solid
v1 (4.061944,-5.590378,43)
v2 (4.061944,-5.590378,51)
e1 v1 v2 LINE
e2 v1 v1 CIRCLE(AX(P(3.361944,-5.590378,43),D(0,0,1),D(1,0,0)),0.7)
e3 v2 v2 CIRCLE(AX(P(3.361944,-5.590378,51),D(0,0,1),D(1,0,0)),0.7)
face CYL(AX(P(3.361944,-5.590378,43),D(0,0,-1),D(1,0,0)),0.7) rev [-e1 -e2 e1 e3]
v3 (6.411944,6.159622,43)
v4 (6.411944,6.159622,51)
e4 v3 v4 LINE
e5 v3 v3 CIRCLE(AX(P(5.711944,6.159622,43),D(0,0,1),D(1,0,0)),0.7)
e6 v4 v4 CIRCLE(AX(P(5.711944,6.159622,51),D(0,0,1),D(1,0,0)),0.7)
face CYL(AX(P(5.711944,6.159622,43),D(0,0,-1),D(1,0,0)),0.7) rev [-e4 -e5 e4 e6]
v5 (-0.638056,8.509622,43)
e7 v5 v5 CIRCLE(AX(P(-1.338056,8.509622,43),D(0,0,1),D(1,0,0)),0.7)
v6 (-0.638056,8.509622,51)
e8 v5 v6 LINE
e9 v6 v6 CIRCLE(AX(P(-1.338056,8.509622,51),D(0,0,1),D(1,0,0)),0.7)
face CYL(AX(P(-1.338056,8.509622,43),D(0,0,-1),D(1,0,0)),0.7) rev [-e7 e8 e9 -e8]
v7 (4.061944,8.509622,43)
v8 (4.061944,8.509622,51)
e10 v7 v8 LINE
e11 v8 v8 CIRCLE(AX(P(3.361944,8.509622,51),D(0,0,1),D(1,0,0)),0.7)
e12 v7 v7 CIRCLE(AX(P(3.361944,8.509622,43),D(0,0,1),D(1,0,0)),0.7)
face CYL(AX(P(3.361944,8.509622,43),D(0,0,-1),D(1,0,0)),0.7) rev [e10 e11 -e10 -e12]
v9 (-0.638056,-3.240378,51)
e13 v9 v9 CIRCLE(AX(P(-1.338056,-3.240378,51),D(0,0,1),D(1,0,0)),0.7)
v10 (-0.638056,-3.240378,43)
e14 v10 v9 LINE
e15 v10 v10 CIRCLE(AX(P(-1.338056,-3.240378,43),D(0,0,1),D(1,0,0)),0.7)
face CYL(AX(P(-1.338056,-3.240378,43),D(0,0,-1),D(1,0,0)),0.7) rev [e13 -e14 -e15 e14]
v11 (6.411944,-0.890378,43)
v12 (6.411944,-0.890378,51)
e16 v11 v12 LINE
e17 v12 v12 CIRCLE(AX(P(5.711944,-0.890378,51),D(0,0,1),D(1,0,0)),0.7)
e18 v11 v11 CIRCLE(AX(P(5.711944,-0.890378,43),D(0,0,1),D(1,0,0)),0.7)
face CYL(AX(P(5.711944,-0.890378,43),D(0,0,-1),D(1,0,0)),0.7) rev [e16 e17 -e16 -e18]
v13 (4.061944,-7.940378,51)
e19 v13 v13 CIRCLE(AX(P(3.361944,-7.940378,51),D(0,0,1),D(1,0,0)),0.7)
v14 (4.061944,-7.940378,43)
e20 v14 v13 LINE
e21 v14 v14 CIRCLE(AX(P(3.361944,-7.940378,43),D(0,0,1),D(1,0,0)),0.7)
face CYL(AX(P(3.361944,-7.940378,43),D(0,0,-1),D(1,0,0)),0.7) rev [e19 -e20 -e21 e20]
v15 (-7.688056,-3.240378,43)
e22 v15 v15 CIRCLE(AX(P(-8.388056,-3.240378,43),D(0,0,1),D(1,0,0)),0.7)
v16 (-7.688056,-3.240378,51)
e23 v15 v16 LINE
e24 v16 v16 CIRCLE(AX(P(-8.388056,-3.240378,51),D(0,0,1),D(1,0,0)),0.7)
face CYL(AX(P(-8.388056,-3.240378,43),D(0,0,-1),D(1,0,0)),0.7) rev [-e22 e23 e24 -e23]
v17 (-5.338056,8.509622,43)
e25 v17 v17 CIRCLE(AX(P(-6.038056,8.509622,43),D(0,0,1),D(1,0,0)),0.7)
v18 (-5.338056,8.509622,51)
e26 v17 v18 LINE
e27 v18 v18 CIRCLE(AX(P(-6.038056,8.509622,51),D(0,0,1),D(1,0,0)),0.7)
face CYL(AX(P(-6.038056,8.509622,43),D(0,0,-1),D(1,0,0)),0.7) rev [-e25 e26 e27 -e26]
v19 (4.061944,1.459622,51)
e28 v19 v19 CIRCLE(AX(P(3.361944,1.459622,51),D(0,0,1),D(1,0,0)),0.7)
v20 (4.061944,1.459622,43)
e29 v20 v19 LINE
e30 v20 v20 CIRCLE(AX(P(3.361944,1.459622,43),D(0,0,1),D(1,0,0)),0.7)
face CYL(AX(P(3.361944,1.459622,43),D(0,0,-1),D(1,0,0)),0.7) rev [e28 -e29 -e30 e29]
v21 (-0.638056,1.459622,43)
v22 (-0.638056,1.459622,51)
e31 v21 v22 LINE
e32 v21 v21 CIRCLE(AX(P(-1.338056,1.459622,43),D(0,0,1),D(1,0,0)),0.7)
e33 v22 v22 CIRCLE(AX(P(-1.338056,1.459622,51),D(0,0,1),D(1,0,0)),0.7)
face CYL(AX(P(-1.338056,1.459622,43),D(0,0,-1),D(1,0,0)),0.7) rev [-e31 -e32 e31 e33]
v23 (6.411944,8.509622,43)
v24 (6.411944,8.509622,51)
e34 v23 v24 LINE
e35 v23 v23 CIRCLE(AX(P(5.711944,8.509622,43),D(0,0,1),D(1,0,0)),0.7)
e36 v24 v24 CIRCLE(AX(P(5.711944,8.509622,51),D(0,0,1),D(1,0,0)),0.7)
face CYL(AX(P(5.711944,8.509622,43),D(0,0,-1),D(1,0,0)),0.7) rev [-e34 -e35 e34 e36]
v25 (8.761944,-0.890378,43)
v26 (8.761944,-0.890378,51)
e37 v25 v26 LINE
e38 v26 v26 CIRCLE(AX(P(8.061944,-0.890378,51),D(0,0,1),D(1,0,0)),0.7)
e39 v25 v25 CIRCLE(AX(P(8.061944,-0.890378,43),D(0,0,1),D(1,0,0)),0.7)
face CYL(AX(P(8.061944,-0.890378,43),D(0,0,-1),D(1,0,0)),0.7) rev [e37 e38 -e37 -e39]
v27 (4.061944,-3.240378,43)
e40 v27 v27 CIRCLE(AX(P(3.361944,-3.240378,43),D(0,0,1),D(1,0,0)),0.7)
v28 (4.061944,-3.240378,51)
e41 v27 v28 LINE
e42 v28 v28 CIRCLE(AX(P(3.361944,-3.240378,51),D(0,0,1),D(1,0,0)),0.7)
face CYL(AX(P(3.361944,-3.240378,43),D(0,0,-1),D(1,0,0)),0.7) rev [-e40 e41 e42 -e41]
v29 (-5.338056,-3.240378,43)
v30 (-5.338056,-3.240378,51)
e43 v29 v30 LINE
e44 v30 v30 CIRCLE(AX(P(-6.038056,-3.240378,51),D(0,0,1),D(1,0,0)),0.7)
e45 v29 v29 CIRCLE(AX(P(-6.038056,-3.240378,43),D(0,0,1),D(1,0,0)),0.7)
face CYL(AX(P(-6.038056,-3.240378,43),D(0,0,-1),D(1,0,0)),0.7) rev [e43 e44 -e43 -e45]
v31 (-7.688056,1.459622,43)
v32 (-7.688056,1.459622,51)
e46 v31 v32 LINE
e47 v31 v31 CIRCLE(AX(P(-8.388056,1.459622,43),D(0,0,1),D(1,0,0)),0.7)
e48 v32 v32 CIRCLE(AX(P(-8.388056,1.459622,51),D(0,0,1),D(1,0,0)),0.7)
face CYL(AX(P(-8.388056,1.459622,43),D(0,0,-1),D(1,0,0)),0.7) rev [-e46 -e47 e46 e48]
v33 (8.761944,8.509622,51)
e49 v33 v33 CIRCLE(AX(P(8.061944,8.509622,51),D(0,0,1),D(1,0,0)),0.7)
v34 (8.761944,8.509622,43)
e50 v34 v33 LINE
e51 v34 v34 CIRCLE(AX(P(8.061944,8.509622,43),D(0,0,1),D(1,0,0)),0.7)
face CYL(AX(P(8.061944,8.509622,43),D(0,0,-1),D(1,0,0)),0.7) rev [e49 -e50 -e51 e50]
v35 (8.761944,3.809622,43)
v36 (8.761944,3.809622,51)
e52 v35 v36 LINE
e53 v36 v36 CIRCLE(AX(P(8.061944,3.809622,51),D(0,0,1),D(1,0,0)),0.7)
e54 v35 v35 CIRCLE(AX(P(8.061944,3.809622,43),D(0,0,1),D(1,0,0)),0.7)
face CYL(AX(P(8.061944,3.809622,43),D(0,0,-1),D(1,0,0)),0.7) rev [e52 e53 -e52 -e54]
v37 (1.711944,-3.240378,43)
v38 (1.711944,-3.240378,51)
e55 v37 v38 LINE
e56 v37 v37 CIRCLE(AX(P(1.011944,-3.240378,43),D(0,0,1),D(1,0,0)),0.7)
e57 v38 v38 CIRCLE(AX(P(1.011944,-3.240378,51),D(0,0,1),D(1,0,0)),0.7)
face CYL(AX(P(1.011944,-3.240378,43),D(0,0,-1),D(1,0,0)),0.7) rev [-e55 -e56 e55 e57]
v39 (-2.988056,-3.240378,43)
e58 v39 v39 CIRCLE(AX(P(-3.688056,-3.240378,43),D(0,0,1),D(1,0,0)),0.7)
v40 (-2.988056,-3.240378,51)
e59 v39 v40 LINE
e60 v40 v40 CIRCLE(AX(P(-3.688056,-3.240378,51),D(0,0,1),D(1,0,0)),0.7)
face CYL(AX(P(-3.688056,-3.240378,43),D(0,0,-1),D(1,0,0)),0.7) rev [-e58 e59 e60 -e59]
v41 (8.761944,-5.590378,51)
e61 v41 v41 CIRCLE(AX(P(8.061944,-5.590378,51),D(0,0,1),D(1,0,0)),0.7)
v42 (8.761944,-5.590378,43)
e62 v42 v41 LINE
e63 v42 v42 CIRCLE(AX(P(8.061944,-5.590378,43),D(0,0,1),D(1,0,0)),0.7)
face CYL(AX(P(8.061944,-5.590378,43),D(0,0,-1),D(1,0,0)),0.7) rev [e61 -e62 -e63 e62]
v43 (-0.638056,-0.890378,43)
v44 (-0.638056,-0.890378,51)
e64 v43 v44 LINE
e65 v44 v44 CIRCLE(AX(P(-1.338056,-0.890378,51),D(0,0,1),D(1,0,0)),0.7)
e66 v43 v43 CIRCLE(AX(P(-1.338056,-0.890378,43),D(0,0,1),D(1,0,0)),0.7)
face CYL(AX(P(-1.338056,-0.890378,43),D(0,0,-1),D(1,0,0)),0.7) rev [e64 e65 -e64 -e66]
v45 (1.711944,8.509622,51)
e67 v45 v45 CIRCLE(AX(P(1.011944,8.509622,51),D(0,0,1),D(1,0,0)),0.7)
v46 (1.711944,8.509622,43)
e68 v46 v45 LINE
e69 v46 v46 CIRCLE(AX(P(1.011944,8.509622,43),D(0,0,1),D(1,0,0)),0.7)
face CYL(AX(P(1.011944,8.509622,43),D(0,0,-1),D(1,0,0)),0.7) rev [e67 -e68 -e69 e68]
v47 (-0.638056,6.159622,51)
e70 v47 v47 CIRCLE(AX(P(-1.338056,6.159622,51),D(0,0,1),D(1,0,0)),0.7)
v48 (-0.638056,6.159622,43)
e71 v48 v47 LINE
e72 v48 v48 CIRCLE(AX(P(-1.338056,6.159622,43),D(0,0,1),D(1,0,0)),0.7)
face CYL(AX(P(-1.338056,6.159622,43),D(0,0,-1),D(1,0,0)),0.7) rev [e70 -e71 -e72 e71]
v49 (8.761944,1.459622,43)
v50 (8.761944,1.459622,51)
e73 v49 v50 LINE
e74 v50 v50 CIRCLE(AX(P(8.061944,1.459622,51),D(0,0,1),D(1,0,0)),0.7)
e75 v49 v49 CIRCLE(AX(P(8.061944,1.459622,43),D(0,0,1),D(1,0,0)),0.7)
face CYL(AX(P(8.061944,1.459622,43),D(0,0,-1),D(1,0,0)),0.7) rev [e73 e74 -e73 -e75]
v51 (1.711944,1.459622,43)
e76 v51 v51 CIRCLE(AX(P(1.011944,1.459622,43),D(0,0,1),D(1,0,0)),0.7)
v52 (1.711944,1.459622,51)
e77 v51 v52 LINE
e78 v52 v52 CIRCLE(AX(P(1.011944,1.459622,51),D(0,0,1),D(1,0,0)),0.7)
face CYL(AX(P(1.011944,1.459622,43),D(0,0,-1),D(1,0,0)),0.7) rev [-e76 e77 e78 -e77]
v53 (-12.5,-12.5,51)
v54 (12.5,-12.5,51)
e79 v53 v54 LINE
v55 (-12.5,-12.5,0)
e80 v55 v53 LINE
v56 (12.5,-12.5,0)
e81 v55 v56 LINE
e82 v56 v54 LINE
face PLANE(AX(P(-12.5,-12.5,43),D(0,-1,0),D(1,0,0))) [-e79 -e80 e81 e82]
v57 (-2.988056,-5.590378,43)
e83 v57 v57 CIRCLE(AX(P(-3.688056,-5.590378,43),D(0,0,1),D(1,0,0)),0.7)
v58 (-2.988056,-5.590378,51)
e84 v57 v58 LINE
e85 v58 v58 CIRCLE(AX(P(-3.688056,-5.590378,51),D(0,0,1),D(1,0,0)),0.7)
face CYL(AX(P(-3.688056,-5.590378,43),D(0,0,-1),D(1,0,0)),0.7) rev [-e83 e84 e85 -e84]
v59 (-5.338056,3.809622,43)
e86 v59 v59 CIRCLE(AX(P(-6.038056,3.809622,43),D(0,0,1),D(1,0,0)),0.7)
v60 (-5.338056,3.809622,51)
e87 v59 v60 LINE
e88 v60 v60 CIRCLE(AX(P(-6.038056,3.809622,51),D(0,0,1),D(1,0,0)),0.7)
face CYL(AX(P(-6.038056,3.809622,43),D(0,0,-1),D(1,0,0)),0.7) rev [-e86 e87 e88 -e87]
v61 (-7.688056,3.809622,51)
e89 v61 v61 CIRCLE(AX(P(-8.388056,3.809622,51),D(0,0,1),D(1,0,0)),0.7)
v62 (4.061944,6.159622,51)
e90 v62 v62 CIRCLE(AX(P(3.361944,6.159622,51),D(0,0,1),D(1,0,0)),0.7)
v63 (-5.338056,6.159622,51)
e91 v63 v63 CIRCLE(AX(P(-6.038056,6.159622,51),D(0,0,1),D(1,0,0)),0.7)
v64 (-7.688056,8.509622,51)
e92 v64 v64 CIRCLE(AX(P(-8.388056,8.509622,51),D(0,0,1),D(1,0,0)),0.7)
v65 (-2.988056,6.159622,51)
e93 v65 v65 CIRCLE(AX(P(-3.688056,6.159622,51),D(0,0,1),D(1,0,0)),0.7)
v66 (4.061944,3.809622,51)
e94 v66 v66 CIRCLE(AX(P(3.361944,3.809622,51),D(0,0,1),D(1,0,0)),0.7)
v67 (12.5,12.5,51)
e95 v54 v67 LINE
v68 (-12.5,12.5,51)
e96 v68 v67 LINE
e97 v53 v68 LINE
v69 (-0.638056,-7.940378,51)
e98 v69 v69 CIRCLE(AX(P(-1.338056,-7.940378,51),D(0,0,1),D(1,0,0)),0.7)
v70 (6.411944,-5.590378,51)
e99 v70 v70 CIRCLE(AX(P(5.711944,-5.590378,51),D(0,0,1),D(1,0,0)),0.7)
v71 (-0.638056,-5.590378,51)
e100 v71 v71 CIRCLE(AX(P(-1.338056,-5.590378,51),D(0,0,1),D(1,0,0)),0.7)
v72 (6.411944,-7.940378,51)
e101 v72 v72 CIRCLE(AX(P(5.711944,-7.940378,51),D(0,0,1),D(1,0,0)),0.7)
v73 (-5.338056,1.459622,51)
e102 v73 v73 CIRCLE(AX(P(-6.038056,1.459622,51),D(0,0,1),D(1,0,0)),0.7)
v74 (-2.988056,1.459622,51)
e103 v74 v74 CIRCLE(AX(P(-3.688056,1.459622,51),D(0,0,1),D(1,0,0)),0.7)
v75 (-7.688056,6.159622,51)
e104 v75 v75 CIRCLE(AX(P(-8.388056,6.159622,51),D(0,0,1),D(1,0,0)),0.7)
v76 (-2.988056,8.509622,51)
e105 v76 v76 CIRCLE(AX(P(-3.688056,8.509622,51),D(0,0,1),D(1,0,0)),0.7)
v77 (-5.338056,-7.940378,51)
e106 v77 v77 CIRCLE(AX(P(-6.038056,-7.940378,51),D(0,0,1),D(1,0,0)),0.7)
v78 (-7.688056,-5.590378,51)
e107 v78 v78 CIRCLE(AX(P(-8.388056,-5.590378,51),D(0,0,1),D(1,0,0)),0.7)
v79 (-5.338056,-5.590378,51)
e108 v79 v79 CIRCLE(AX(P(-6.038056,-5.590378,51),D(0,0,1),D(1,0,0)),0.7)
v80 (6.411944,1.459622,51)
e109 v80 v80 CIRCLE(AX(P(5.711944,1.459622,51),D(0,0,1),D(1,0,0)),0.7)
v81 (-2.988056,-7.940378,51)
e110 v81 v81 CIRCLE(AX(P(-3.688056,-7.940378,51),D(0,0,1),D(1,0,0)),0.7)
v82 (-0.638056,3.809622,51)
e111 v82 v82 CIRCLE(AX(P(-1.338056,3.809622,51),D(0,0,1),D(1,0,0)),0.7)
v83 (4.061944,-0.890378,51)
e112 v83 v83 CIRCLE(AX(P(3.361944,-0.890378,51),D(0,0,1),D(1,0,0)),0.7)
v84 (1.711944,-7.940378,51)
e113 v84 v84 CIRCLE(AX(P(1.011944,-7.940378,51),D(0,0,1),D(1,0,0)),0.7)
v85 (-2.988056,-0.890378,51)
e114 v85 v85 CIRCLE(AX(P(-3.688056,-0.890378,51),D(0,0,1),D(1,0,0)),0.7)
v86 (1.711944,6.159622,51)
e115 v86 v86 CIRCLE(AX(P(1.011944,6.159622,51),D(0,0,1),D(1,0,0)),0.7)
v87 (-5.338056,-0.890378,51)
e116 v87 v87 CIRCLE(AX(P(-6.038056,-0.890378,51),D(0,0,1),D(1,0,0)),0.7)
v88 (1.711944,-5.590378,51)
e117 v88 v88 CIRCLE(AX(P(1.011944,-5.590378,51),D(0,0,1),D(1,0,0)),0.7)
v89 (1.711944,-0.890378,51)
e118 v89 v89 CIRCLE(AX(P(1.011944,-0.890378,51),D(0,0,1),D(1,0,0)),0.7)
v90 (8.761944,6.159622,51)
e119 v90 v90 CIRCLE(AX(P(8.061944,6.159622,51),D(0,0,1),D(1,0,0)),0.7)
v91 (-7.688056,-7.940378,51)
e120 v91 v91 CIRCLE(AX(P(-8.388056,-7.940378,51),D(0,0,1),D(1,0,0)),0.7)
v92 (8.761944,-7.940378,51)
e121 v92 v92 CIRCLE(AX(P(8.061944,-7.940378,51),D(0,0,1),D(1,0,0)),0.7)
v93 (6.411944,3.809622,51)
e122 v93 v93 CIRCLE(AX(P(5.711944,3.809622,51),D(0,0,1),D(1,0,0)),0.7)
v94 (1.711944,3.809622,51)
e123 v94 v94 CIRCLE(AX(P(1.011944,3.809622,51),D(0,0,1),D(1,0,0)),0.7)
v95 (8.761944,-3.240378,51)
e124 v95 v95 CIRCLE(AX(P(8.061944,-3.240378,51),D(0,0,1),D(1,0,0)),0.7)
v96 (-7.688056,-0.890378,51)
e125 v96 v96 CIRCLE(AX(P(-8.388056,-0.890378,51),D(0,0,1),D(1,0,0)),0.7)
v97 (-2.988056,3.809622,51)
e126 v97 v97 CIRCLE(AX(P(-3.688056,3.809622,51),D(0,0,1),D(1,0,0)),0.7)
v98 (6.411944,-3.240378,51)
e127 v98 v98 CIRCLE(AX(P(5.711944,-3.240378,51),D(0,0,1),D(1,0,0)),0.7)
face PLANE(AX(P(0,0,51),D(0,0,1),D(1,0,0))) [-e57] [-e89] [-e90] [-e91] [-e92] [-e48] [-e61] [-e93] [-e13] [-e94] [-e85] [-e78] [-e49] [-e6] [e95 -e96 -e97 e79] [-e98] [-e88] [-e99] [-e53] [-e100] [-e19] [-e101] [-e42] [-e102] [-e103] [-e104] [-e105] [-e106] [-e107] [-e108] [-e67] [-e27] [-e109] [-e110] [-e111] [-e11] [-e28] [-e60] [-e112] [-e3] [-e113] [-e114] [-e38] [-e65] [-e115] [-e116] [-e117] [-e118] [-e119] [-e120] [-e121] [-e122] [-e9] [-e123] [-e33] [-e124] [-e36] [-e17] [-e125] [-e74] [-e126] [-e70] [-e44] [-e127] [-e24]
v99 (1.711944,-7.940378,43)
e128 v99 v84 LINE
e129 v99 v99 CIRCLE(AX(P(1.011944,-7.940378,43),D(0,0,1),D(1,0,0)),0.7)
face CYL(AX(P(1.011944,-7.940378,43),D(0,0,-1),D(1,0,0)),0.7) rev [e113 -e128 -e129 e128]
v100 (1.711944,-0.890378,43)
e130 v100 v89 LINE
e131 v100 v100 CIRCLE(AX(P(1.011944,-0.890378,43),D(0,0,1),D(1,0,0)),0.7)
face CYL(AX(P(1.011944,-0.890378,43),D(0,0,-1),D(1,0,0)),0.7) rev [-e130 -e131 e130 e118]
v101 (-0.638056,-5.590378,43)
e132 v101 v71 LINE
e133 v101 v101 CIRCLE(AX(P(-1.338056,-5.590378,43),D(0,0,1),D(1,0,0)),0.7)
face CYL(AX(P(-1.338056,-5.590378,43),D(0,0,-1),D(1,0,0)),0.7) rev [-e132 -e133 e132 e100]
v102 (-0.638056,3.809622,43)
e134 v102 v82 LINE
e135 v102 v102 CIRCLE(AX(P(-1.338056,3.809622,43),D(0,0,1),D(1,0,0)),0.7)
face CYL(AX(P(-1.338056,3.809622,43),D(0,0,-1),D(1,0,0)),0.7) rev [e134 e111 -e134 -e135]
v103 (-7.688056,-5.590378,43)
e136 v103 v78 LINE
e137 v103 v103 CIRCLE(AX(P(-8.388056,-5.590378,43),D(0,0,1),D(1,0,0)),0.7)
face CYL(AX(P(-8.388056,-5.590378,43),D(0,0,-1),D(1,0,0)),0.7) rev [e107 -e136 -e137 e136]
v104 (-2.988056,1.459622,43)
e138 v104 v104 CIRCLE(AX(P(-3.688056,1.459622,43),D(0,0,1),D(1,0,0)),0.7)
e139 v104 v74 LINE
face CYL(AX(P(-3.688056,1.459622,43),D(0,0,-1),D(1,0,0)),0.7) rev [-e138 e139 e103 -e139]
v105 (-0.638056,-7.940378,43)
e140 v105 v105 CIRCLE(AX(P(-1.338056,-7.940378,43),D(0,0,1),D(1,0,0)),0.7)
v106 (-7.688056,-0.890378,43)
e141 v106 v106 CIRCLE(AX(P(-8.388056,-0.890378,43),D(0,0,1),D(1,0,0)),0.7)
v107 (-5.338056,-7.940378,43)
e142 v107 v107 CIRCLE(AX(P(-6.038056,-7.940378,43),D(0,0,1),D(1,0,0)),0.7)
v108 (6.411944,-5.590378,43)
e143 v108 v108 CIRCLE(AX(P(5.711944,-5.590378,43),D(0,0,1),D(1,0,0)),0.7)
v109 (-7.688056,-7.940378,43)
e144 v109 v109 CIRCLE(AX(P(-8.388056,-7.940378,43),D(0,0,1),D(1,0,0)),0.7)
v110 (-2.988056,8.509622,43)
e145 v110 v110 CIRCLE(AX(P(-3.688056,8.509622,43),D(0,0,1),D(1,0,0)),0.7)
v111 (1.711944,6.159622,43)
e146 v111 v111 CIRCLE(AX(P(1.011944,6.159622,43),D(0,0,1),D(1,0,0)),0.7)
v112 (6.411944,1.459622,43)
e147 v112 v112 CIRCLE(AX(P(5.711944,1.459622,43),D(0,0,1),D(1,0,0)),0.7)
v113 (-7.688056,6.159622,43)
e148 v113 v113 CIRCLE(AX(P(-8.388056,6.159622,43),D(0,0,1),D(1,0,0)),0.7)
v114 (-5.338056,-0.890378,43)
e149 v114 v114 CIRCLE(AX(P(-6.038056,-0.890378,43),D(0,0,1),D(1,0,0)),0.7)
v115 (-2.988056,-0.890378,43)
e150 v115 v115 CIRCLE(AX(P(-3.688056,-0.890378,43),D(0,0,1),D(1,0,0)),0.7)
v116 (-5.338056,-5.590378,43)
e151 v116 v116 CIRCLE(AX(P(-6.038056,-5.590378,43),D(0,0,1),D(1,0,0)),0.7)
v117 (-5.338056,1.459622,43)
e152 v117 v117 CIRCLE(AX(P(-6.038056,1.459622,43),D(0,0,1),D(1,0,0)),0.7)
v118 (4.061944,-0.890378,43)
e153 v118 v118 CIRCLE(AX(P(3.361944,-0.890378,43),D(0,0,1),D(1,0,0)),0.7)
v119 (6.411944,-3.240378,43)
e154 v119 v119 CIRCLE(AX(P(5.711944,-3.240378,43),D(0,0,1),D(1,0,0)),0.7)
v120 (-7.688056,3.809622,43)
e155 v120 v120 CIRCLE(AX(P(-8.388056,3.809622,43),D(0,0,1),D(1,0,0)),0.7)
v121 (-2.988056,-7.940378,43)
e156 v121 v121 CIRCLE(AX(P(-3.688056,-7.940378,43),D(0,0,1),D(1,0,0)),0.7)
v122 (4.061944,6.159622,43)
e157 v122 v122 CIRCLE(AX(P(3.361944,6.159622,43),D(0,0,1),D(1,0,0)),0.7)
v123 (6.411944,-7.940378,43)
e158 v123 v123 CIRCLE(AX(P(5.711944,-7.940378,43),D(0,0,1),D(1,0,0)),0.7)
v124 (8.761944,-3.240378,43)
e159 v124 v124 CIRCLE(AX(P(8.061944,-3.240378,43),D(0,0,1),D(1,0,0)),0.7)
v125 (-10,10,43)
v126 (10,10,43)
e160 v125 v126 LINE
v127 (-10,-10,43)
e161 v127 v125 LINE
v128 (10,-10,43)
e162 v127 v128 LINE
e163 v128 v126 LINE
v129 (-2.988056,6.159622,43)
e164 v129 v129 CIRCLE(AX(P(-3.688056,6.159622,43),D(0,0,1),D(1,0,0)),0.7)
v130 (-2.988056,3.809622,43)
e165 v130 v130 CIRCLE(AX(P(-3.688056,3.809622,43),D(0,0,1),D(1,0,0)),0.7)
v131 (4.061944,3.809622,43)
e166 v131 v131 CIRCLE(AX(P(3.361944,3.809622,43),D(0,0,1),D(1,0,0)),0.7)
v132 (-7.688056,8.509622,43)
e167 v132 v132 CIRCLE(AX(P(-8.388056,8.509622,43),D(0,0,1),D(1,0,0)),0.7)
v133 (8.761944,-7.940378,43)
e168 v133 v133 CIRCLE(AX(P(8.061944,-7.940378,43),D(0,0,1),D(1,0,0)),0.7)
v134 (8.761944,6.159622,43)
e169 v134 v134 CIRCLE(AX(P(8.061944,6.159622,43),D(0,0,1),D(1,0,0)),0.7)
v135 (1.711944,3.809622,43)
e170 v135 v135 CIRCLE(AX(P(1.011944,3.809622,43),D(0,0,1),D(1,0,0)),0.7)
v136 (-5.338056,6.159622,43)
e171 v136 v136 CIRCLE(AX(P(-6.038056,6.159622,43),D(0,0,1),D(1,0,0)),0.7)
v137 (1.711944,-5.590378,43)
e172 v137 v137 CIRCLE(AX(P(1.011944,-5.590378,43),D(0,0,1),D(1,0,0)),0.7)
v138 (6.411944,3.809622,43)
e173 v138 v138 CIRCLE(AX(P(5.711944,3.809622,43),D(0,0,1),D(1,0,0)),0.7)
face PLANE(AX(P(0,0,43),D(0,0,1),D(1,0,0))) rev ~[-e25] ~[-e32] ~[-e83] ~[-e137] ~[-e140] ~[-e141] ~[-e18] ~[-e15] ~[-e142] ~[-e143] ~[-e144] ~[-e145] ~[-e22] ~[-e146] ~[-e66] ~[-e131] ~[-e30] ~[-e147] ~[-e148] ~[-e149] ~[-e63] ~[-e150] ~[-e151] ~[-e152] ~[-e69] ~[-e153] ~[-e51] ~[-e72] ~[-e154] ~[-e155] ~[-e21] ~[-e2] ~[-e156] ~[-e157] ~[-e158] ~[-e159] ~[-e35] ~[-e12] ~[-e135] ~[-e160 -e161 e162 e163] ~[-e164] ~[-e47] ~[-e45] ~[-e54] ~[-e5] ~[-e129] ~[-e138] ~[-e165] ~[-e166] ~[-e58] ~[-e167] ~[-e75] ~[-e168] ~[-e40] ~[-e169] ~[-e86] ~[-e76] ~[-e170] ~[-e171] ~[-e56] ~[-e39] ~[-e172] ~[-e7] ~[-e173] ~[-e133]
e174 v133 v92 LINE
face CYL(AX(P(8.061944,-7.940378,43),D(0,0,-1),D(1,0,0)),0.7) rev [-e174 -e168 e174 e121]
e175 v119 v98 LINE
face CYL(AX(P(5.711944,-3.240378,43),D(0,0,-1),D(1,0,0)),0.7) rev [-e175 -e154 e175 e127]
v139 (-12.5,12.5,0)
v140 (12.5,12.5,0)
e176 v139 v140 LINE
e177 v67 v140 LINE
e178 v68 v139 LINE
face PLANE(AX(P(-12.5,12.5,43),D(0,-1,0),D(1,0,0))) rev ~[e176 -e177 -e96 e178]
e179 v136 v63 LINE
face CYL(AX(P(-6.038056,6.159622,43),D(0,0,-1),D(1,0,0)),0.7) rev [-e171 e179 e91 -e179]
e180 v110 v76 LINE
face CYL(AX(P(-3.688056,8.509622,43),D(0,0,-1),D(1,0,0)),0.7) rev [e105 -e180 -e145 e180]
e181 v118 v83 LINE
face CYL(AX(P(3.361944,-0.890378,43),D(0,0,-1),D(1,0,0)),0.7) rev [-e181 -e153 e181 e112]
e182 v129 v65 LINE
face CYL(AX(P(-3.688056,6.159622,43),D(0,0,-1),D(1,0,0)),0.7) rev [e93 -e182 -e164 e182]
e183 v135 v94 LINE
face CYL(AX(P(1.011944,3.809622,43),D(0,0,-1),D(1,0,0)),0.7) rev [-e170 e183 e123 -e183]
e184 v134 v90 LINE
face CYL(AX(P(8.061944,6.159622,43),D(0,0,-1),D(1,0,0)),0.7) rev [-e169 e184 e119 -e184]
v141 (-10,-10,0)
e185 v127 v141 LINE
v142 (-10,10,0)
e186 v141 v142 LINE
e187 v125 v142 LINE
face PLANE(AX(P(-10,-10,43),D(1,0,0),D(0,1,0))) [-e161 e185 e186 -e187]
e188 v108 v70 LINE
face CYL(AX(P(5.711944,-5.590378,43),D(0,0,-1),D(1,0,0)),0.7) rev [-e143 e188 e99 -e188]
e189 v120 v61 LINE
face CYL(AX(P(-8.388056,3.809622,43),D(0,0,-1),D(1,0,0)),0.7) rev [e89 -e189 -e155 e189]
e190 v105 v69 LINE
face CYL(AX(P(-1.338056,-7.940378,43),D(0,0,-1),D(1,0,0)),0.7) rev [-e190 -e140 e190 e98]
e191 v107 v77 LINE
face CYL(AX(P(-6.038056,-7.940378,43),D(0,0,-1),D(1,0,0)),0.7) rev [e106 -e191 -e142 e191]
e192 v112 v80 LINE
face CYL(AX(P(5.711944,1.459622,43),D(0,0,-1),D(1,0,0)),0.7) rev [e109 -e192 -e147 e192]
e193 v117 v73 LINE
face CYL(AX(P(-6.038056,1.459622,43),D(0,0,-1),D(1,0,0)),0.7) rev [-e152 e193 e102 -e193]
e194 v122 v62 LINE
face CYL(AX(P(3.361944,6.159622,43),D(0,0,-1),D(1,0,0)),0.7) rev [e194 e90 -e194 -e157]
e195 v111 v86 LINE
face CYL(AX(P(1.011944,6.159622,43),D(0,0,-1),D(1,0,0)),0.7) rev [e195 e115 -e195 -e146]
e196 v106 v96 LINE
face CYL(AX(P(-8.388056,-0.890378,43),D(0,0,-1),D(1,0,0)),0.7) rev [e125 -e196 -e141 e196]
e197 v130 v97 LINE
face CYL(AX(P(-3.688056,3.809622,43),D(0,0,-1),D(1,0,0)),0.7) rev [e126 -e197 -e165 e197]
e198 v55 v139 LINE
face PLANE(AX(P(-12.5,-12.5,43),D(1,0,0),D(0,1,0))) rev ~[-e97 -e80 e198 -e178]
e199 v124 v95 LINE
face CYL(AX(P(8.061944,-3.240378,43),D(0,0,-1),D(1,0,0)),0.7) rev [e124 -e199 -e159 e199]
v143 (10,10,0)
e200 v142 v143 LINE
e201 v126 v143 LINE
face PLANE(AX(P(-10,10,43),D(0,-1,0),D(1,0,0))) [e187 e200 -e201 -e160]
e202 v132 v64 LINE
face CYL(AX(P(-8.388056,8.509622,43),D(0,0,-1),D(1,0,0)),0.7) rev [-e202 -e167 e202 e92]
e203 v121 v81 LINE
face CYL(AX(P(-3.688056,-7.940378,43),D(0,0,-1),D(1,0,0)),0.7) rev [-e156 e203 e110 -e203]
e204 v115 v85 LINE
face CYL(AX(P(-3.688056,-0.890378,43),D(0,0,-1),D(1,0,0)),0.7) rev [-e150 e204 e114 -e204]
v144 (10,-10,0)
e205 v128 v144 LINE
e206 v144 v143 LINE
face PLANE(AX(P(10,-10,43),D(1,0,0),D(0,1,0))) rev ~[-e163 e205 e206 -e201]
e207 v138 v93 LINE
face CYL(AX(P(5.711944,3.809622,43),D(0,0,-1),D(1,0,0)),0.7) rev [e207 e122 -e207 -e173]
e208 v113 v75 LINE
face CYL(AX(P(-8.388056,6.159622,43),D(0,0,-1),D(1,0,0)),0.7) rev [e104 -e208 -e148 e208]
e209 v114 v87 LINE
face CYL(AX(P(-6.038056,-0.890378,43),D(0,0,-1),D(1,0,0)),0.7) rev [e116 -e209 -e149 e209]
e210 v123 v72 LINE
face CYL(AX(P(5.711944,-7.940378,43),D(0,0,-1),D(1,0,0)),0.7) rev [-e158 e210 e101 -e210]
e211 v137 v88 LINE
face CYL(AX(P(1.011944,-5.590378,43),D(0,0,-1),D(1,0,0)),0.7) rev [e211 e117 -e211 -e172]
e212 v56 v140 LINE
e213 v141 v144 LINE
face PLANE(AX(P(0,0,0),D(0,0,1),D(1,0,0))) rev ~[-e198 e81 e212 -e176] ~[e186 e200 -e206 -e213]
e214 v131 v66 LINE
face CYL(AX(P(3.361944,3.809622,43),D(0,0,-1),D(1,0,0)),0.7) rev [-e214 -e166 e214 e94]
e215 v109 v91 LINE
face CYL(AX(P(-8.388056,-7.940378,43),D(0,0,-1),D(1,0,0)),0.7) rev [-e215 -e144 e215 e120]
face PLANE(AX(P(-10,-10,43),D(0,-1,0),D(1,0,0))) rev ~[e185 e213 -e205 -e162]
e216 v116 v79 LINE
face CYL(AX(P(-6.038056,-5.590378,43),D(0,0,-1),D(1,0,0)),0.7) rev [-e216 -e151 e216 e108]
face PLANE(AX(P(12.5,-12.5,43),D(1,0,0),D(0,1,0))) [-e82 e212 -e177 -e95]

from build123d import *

# Parameters (mm, degrees)
SKETCH2_W           = 25
SKETCH2_H           = 25
BOSS_EXTRUDE1_DEPTH = 8
SKETCH5_R           = 0.7
CUT_EXTRUDE2_DEPTH  = 8
SKETCH2_6_W         = 25
SKETCH2_6_H         = 25
SKETCH2_6_W_2       = 20
SKETCH2_6_H_2       = 20
BOSS_EXTRUDE2_DEPTH = 43


with BuildPart() as part:
    # Sketch2 → Boss-Extrude1 (new body)
    with BuildSketch(Plane.XY.offset(43)):
        Rectangle(SKETCH2_W, SKETCH2_H)
    extrude(amount=BOSS_EXTRUDE1_DEPTH)

    # Sketch5 → Cut-Extrude2 (cut)
    with BuildSketch(Plane.XY.offset(43)):
        with Locations((-8.388056057, 8.509622087)):
            Circle(SKETCH5_R)
        with Locations((-6.038056057, 8.509622087)):
            Circle(SKETCH5_R)
        with Locations((-3.688056057, 8.509622087)):
            Circle(SKETCH5_R)
        with Locations((-1.338056057, 8.509622087)):
            Circle(SKETCH5_R)
        with Locations((1.011943943, 8.509622087)):
            Circle(SKETCH5_R)
        with Locations((3.361943943, 8.509622087)):
            Circle(SKETCH5_R)
        with Locations((5.711943943, 8.509622087)):
            Circle(SKETCH5_R)
        with Locations((8.061943943, 8.509622087)):
            Circle(SKETCH5_R)
        with Locations((-6.038056057, 6.159622087)):
            Circle(SKETCH5_R)
        with Locations((-3.688056057, 6.159622087)):
            Circle(SKETCH5_R)
        with Locations((-1.338056057, 6.159622087)):
            Circle(SKETCH5_R)
        with Locations((1.011943943, 6.159622087)):
            Circle(SKETCH5_R)
        with Locations((3.361943943, 6.159622087)):
            Circle(SKETCH5_R)
        with Locations((5.711943943, 6.159622087)):
            Circle(SKETCH5_R)
        with Locations((8.061943943, 6.159622087)):
            Circle(SKETCH5_R)
        with Locations((-6.038056057, 3.809622087)):
            Circle(SKETCH5_R)
        with Locations((-3.688056057, 3.809622087)):
            Circle(SKETCH5_R)
        with Locations((-1.338056057, 3.809622087)):
            Circle(SKETCH5_R)
        with Locations((1.011943943, 3.809622087)):
            Circle(SKETCH5_R)
        with Locations((3.361943943, 3.809622087)):
            Circle(SKETCH5_R)
        with Locations((5.711943943, 3.809622087)):
            Circle(SKETCH5_R)
        with Locations((8.061943943, 3.809622087)):
            Circle(SKETCH5_R)
        with Locations((-6.038056057, 1.459622087)):
            Circle(SKETCH5_R)
        with Locations((-3.688056057, 1.459622087)):
            Circle(SKETCH5_R)
        with Locations((-1.338056057, 1.459622087)):
            Circle(SKETCH5_R)
        with Locations((1.011943943, 1.459622087)):
            Circle(SKETCH5_R)
        with Locations((3.361943943, 1.459622087)):
            Circle(SKETCH5_R)
        with Locations((5.711943943, 1.459622087)):
            Circle(SKETCH5_R)
        with Locations((8.061943943, 1.459622087)):
            Circle(SKETCH5_R)
        with Locations((-6.038056057, -0.890377913)):
            Circle(SKETCH5_R)
        with Locations((-3.688056057, -0.890377913)):
            Circle(SKETCH5_R)
        with Locations((-1.338056057, -0.890377913)):
            Circle(SKETCH5_R)
        with Locations((1.011943943, -0.890377913)):
            Circle(SKETCH5_R)
        with Locations((3.361943943, -0.890377913)):
            Circle(SKETCH5_R)
        with Locations((5.711943943, -0.890377913)):
            Circle(SKETCH5_R)
        with Locations((8.061943943, -0.890377913)):
            Circle(SKETCH5_R)
        with Locations((-6.038056057, -3.240377913)):
            Circle(SKETCH5_R)
        with Locations((-3.688056057, -3.240377913)):
            Circle(SKETCH5_R)
        with Locations((-1.338056057, -3.240377913)):
            Circle(SKETCH5_R)
        with Locations((1.011943943, -3.240377913)):
            Circle(SKETCH5_R)
        with Locations((3.361943943, -3.240377913)):
            Circle(SKETCH5_R)
        with Locations((5.711943943, -3.240377913)):
            Circle(SKETCH5_R)
        with Locations((8.061943943, -3.240377913)):
            Circle(SKETCH5_R)
        with Locations((-6.038056057, -5.590377913)):
            Circle(SKETCH5_R)
        with Locations((-3.688056057, -5.590377913)):
            Circle(SKETCH5_R)
        with Locations((-1.338056057, -5.590377913)):
            Circle(SKETCH5_R)
        with Locations((1.011943943, -5.590377913)):
            Circle(SKETCH5_R)
        with Locations((3.361943943, -5.590377913)):
            Circle(SKETCH5_R)
        with Locations((5.711943943, -5.590377913)):
            Circle(SKETCH5_R)
        with Locations((8.061943943, -5.590377913)):
            Circle(SKETCH5_R)
        with Locations((-6.038056057, -7.940377913)):
            Circle(SKETCH5_R)
        with Locations((-3.688056057, -7.940377913)):
            Circle(SKETCH5_R)
        with Locations((-1.338056057, -7.940377913)):
            Circle(SKETCH5_R)
        with Locations((1.011943943, -7.940377913)):
            Circle(SKETCH5_R)
        with Locations((3.361943943, -7.940377913)):
            Circle(SKETCH5_R)
        with Locations((5.711943943, -7.940377913)):
            Circle(SKETCH5_R)
        with Locations((8.061943943, -7.940377913)):
            Circle(SKETCH5_R)
        with Locations((-8.388056057, 6.159622087)):
            Circle(SKETCH5_R)
        with Locations((-8.388056057, 3.809622087)):
            Circle(SKETCH5_R)
        with Locations((-8.388056057, 1.459622087)):
            Circle(SKETCH5_R)
        with Locations((-8.388056057, -0.890377913)):
            Circle(SKETCH5_R)
        with Locations((-8.388056057, -3.240377913)):
            Circle(SKETCH5_R)
        with Locations((-8.388056057, -5.590377913)):
            Circle(SKETCH5_R)
        with Locations((-8.388056057, -7.940377913)):
            Circle(SKETCH5_R)
    extrude(amount=CUT_EXTRUDE2_DEPTH, mode=Mode.SUBTRACT)

    # Sketch2<6> → Boss-Extrude2 (add)
    with BuildSketch(Plane.XY.offset(43)):
        Rectangle(SKETCH2_6_W, SKETCH2_6_H)
        Rectangle(SKETCH2_6_W_2, SKETCH2_6_H_2, mode=Mode.SUBTRACT)
    extrude(amount=-BOSS_EXTRUDE2_DEPTH)


solid = part.part
